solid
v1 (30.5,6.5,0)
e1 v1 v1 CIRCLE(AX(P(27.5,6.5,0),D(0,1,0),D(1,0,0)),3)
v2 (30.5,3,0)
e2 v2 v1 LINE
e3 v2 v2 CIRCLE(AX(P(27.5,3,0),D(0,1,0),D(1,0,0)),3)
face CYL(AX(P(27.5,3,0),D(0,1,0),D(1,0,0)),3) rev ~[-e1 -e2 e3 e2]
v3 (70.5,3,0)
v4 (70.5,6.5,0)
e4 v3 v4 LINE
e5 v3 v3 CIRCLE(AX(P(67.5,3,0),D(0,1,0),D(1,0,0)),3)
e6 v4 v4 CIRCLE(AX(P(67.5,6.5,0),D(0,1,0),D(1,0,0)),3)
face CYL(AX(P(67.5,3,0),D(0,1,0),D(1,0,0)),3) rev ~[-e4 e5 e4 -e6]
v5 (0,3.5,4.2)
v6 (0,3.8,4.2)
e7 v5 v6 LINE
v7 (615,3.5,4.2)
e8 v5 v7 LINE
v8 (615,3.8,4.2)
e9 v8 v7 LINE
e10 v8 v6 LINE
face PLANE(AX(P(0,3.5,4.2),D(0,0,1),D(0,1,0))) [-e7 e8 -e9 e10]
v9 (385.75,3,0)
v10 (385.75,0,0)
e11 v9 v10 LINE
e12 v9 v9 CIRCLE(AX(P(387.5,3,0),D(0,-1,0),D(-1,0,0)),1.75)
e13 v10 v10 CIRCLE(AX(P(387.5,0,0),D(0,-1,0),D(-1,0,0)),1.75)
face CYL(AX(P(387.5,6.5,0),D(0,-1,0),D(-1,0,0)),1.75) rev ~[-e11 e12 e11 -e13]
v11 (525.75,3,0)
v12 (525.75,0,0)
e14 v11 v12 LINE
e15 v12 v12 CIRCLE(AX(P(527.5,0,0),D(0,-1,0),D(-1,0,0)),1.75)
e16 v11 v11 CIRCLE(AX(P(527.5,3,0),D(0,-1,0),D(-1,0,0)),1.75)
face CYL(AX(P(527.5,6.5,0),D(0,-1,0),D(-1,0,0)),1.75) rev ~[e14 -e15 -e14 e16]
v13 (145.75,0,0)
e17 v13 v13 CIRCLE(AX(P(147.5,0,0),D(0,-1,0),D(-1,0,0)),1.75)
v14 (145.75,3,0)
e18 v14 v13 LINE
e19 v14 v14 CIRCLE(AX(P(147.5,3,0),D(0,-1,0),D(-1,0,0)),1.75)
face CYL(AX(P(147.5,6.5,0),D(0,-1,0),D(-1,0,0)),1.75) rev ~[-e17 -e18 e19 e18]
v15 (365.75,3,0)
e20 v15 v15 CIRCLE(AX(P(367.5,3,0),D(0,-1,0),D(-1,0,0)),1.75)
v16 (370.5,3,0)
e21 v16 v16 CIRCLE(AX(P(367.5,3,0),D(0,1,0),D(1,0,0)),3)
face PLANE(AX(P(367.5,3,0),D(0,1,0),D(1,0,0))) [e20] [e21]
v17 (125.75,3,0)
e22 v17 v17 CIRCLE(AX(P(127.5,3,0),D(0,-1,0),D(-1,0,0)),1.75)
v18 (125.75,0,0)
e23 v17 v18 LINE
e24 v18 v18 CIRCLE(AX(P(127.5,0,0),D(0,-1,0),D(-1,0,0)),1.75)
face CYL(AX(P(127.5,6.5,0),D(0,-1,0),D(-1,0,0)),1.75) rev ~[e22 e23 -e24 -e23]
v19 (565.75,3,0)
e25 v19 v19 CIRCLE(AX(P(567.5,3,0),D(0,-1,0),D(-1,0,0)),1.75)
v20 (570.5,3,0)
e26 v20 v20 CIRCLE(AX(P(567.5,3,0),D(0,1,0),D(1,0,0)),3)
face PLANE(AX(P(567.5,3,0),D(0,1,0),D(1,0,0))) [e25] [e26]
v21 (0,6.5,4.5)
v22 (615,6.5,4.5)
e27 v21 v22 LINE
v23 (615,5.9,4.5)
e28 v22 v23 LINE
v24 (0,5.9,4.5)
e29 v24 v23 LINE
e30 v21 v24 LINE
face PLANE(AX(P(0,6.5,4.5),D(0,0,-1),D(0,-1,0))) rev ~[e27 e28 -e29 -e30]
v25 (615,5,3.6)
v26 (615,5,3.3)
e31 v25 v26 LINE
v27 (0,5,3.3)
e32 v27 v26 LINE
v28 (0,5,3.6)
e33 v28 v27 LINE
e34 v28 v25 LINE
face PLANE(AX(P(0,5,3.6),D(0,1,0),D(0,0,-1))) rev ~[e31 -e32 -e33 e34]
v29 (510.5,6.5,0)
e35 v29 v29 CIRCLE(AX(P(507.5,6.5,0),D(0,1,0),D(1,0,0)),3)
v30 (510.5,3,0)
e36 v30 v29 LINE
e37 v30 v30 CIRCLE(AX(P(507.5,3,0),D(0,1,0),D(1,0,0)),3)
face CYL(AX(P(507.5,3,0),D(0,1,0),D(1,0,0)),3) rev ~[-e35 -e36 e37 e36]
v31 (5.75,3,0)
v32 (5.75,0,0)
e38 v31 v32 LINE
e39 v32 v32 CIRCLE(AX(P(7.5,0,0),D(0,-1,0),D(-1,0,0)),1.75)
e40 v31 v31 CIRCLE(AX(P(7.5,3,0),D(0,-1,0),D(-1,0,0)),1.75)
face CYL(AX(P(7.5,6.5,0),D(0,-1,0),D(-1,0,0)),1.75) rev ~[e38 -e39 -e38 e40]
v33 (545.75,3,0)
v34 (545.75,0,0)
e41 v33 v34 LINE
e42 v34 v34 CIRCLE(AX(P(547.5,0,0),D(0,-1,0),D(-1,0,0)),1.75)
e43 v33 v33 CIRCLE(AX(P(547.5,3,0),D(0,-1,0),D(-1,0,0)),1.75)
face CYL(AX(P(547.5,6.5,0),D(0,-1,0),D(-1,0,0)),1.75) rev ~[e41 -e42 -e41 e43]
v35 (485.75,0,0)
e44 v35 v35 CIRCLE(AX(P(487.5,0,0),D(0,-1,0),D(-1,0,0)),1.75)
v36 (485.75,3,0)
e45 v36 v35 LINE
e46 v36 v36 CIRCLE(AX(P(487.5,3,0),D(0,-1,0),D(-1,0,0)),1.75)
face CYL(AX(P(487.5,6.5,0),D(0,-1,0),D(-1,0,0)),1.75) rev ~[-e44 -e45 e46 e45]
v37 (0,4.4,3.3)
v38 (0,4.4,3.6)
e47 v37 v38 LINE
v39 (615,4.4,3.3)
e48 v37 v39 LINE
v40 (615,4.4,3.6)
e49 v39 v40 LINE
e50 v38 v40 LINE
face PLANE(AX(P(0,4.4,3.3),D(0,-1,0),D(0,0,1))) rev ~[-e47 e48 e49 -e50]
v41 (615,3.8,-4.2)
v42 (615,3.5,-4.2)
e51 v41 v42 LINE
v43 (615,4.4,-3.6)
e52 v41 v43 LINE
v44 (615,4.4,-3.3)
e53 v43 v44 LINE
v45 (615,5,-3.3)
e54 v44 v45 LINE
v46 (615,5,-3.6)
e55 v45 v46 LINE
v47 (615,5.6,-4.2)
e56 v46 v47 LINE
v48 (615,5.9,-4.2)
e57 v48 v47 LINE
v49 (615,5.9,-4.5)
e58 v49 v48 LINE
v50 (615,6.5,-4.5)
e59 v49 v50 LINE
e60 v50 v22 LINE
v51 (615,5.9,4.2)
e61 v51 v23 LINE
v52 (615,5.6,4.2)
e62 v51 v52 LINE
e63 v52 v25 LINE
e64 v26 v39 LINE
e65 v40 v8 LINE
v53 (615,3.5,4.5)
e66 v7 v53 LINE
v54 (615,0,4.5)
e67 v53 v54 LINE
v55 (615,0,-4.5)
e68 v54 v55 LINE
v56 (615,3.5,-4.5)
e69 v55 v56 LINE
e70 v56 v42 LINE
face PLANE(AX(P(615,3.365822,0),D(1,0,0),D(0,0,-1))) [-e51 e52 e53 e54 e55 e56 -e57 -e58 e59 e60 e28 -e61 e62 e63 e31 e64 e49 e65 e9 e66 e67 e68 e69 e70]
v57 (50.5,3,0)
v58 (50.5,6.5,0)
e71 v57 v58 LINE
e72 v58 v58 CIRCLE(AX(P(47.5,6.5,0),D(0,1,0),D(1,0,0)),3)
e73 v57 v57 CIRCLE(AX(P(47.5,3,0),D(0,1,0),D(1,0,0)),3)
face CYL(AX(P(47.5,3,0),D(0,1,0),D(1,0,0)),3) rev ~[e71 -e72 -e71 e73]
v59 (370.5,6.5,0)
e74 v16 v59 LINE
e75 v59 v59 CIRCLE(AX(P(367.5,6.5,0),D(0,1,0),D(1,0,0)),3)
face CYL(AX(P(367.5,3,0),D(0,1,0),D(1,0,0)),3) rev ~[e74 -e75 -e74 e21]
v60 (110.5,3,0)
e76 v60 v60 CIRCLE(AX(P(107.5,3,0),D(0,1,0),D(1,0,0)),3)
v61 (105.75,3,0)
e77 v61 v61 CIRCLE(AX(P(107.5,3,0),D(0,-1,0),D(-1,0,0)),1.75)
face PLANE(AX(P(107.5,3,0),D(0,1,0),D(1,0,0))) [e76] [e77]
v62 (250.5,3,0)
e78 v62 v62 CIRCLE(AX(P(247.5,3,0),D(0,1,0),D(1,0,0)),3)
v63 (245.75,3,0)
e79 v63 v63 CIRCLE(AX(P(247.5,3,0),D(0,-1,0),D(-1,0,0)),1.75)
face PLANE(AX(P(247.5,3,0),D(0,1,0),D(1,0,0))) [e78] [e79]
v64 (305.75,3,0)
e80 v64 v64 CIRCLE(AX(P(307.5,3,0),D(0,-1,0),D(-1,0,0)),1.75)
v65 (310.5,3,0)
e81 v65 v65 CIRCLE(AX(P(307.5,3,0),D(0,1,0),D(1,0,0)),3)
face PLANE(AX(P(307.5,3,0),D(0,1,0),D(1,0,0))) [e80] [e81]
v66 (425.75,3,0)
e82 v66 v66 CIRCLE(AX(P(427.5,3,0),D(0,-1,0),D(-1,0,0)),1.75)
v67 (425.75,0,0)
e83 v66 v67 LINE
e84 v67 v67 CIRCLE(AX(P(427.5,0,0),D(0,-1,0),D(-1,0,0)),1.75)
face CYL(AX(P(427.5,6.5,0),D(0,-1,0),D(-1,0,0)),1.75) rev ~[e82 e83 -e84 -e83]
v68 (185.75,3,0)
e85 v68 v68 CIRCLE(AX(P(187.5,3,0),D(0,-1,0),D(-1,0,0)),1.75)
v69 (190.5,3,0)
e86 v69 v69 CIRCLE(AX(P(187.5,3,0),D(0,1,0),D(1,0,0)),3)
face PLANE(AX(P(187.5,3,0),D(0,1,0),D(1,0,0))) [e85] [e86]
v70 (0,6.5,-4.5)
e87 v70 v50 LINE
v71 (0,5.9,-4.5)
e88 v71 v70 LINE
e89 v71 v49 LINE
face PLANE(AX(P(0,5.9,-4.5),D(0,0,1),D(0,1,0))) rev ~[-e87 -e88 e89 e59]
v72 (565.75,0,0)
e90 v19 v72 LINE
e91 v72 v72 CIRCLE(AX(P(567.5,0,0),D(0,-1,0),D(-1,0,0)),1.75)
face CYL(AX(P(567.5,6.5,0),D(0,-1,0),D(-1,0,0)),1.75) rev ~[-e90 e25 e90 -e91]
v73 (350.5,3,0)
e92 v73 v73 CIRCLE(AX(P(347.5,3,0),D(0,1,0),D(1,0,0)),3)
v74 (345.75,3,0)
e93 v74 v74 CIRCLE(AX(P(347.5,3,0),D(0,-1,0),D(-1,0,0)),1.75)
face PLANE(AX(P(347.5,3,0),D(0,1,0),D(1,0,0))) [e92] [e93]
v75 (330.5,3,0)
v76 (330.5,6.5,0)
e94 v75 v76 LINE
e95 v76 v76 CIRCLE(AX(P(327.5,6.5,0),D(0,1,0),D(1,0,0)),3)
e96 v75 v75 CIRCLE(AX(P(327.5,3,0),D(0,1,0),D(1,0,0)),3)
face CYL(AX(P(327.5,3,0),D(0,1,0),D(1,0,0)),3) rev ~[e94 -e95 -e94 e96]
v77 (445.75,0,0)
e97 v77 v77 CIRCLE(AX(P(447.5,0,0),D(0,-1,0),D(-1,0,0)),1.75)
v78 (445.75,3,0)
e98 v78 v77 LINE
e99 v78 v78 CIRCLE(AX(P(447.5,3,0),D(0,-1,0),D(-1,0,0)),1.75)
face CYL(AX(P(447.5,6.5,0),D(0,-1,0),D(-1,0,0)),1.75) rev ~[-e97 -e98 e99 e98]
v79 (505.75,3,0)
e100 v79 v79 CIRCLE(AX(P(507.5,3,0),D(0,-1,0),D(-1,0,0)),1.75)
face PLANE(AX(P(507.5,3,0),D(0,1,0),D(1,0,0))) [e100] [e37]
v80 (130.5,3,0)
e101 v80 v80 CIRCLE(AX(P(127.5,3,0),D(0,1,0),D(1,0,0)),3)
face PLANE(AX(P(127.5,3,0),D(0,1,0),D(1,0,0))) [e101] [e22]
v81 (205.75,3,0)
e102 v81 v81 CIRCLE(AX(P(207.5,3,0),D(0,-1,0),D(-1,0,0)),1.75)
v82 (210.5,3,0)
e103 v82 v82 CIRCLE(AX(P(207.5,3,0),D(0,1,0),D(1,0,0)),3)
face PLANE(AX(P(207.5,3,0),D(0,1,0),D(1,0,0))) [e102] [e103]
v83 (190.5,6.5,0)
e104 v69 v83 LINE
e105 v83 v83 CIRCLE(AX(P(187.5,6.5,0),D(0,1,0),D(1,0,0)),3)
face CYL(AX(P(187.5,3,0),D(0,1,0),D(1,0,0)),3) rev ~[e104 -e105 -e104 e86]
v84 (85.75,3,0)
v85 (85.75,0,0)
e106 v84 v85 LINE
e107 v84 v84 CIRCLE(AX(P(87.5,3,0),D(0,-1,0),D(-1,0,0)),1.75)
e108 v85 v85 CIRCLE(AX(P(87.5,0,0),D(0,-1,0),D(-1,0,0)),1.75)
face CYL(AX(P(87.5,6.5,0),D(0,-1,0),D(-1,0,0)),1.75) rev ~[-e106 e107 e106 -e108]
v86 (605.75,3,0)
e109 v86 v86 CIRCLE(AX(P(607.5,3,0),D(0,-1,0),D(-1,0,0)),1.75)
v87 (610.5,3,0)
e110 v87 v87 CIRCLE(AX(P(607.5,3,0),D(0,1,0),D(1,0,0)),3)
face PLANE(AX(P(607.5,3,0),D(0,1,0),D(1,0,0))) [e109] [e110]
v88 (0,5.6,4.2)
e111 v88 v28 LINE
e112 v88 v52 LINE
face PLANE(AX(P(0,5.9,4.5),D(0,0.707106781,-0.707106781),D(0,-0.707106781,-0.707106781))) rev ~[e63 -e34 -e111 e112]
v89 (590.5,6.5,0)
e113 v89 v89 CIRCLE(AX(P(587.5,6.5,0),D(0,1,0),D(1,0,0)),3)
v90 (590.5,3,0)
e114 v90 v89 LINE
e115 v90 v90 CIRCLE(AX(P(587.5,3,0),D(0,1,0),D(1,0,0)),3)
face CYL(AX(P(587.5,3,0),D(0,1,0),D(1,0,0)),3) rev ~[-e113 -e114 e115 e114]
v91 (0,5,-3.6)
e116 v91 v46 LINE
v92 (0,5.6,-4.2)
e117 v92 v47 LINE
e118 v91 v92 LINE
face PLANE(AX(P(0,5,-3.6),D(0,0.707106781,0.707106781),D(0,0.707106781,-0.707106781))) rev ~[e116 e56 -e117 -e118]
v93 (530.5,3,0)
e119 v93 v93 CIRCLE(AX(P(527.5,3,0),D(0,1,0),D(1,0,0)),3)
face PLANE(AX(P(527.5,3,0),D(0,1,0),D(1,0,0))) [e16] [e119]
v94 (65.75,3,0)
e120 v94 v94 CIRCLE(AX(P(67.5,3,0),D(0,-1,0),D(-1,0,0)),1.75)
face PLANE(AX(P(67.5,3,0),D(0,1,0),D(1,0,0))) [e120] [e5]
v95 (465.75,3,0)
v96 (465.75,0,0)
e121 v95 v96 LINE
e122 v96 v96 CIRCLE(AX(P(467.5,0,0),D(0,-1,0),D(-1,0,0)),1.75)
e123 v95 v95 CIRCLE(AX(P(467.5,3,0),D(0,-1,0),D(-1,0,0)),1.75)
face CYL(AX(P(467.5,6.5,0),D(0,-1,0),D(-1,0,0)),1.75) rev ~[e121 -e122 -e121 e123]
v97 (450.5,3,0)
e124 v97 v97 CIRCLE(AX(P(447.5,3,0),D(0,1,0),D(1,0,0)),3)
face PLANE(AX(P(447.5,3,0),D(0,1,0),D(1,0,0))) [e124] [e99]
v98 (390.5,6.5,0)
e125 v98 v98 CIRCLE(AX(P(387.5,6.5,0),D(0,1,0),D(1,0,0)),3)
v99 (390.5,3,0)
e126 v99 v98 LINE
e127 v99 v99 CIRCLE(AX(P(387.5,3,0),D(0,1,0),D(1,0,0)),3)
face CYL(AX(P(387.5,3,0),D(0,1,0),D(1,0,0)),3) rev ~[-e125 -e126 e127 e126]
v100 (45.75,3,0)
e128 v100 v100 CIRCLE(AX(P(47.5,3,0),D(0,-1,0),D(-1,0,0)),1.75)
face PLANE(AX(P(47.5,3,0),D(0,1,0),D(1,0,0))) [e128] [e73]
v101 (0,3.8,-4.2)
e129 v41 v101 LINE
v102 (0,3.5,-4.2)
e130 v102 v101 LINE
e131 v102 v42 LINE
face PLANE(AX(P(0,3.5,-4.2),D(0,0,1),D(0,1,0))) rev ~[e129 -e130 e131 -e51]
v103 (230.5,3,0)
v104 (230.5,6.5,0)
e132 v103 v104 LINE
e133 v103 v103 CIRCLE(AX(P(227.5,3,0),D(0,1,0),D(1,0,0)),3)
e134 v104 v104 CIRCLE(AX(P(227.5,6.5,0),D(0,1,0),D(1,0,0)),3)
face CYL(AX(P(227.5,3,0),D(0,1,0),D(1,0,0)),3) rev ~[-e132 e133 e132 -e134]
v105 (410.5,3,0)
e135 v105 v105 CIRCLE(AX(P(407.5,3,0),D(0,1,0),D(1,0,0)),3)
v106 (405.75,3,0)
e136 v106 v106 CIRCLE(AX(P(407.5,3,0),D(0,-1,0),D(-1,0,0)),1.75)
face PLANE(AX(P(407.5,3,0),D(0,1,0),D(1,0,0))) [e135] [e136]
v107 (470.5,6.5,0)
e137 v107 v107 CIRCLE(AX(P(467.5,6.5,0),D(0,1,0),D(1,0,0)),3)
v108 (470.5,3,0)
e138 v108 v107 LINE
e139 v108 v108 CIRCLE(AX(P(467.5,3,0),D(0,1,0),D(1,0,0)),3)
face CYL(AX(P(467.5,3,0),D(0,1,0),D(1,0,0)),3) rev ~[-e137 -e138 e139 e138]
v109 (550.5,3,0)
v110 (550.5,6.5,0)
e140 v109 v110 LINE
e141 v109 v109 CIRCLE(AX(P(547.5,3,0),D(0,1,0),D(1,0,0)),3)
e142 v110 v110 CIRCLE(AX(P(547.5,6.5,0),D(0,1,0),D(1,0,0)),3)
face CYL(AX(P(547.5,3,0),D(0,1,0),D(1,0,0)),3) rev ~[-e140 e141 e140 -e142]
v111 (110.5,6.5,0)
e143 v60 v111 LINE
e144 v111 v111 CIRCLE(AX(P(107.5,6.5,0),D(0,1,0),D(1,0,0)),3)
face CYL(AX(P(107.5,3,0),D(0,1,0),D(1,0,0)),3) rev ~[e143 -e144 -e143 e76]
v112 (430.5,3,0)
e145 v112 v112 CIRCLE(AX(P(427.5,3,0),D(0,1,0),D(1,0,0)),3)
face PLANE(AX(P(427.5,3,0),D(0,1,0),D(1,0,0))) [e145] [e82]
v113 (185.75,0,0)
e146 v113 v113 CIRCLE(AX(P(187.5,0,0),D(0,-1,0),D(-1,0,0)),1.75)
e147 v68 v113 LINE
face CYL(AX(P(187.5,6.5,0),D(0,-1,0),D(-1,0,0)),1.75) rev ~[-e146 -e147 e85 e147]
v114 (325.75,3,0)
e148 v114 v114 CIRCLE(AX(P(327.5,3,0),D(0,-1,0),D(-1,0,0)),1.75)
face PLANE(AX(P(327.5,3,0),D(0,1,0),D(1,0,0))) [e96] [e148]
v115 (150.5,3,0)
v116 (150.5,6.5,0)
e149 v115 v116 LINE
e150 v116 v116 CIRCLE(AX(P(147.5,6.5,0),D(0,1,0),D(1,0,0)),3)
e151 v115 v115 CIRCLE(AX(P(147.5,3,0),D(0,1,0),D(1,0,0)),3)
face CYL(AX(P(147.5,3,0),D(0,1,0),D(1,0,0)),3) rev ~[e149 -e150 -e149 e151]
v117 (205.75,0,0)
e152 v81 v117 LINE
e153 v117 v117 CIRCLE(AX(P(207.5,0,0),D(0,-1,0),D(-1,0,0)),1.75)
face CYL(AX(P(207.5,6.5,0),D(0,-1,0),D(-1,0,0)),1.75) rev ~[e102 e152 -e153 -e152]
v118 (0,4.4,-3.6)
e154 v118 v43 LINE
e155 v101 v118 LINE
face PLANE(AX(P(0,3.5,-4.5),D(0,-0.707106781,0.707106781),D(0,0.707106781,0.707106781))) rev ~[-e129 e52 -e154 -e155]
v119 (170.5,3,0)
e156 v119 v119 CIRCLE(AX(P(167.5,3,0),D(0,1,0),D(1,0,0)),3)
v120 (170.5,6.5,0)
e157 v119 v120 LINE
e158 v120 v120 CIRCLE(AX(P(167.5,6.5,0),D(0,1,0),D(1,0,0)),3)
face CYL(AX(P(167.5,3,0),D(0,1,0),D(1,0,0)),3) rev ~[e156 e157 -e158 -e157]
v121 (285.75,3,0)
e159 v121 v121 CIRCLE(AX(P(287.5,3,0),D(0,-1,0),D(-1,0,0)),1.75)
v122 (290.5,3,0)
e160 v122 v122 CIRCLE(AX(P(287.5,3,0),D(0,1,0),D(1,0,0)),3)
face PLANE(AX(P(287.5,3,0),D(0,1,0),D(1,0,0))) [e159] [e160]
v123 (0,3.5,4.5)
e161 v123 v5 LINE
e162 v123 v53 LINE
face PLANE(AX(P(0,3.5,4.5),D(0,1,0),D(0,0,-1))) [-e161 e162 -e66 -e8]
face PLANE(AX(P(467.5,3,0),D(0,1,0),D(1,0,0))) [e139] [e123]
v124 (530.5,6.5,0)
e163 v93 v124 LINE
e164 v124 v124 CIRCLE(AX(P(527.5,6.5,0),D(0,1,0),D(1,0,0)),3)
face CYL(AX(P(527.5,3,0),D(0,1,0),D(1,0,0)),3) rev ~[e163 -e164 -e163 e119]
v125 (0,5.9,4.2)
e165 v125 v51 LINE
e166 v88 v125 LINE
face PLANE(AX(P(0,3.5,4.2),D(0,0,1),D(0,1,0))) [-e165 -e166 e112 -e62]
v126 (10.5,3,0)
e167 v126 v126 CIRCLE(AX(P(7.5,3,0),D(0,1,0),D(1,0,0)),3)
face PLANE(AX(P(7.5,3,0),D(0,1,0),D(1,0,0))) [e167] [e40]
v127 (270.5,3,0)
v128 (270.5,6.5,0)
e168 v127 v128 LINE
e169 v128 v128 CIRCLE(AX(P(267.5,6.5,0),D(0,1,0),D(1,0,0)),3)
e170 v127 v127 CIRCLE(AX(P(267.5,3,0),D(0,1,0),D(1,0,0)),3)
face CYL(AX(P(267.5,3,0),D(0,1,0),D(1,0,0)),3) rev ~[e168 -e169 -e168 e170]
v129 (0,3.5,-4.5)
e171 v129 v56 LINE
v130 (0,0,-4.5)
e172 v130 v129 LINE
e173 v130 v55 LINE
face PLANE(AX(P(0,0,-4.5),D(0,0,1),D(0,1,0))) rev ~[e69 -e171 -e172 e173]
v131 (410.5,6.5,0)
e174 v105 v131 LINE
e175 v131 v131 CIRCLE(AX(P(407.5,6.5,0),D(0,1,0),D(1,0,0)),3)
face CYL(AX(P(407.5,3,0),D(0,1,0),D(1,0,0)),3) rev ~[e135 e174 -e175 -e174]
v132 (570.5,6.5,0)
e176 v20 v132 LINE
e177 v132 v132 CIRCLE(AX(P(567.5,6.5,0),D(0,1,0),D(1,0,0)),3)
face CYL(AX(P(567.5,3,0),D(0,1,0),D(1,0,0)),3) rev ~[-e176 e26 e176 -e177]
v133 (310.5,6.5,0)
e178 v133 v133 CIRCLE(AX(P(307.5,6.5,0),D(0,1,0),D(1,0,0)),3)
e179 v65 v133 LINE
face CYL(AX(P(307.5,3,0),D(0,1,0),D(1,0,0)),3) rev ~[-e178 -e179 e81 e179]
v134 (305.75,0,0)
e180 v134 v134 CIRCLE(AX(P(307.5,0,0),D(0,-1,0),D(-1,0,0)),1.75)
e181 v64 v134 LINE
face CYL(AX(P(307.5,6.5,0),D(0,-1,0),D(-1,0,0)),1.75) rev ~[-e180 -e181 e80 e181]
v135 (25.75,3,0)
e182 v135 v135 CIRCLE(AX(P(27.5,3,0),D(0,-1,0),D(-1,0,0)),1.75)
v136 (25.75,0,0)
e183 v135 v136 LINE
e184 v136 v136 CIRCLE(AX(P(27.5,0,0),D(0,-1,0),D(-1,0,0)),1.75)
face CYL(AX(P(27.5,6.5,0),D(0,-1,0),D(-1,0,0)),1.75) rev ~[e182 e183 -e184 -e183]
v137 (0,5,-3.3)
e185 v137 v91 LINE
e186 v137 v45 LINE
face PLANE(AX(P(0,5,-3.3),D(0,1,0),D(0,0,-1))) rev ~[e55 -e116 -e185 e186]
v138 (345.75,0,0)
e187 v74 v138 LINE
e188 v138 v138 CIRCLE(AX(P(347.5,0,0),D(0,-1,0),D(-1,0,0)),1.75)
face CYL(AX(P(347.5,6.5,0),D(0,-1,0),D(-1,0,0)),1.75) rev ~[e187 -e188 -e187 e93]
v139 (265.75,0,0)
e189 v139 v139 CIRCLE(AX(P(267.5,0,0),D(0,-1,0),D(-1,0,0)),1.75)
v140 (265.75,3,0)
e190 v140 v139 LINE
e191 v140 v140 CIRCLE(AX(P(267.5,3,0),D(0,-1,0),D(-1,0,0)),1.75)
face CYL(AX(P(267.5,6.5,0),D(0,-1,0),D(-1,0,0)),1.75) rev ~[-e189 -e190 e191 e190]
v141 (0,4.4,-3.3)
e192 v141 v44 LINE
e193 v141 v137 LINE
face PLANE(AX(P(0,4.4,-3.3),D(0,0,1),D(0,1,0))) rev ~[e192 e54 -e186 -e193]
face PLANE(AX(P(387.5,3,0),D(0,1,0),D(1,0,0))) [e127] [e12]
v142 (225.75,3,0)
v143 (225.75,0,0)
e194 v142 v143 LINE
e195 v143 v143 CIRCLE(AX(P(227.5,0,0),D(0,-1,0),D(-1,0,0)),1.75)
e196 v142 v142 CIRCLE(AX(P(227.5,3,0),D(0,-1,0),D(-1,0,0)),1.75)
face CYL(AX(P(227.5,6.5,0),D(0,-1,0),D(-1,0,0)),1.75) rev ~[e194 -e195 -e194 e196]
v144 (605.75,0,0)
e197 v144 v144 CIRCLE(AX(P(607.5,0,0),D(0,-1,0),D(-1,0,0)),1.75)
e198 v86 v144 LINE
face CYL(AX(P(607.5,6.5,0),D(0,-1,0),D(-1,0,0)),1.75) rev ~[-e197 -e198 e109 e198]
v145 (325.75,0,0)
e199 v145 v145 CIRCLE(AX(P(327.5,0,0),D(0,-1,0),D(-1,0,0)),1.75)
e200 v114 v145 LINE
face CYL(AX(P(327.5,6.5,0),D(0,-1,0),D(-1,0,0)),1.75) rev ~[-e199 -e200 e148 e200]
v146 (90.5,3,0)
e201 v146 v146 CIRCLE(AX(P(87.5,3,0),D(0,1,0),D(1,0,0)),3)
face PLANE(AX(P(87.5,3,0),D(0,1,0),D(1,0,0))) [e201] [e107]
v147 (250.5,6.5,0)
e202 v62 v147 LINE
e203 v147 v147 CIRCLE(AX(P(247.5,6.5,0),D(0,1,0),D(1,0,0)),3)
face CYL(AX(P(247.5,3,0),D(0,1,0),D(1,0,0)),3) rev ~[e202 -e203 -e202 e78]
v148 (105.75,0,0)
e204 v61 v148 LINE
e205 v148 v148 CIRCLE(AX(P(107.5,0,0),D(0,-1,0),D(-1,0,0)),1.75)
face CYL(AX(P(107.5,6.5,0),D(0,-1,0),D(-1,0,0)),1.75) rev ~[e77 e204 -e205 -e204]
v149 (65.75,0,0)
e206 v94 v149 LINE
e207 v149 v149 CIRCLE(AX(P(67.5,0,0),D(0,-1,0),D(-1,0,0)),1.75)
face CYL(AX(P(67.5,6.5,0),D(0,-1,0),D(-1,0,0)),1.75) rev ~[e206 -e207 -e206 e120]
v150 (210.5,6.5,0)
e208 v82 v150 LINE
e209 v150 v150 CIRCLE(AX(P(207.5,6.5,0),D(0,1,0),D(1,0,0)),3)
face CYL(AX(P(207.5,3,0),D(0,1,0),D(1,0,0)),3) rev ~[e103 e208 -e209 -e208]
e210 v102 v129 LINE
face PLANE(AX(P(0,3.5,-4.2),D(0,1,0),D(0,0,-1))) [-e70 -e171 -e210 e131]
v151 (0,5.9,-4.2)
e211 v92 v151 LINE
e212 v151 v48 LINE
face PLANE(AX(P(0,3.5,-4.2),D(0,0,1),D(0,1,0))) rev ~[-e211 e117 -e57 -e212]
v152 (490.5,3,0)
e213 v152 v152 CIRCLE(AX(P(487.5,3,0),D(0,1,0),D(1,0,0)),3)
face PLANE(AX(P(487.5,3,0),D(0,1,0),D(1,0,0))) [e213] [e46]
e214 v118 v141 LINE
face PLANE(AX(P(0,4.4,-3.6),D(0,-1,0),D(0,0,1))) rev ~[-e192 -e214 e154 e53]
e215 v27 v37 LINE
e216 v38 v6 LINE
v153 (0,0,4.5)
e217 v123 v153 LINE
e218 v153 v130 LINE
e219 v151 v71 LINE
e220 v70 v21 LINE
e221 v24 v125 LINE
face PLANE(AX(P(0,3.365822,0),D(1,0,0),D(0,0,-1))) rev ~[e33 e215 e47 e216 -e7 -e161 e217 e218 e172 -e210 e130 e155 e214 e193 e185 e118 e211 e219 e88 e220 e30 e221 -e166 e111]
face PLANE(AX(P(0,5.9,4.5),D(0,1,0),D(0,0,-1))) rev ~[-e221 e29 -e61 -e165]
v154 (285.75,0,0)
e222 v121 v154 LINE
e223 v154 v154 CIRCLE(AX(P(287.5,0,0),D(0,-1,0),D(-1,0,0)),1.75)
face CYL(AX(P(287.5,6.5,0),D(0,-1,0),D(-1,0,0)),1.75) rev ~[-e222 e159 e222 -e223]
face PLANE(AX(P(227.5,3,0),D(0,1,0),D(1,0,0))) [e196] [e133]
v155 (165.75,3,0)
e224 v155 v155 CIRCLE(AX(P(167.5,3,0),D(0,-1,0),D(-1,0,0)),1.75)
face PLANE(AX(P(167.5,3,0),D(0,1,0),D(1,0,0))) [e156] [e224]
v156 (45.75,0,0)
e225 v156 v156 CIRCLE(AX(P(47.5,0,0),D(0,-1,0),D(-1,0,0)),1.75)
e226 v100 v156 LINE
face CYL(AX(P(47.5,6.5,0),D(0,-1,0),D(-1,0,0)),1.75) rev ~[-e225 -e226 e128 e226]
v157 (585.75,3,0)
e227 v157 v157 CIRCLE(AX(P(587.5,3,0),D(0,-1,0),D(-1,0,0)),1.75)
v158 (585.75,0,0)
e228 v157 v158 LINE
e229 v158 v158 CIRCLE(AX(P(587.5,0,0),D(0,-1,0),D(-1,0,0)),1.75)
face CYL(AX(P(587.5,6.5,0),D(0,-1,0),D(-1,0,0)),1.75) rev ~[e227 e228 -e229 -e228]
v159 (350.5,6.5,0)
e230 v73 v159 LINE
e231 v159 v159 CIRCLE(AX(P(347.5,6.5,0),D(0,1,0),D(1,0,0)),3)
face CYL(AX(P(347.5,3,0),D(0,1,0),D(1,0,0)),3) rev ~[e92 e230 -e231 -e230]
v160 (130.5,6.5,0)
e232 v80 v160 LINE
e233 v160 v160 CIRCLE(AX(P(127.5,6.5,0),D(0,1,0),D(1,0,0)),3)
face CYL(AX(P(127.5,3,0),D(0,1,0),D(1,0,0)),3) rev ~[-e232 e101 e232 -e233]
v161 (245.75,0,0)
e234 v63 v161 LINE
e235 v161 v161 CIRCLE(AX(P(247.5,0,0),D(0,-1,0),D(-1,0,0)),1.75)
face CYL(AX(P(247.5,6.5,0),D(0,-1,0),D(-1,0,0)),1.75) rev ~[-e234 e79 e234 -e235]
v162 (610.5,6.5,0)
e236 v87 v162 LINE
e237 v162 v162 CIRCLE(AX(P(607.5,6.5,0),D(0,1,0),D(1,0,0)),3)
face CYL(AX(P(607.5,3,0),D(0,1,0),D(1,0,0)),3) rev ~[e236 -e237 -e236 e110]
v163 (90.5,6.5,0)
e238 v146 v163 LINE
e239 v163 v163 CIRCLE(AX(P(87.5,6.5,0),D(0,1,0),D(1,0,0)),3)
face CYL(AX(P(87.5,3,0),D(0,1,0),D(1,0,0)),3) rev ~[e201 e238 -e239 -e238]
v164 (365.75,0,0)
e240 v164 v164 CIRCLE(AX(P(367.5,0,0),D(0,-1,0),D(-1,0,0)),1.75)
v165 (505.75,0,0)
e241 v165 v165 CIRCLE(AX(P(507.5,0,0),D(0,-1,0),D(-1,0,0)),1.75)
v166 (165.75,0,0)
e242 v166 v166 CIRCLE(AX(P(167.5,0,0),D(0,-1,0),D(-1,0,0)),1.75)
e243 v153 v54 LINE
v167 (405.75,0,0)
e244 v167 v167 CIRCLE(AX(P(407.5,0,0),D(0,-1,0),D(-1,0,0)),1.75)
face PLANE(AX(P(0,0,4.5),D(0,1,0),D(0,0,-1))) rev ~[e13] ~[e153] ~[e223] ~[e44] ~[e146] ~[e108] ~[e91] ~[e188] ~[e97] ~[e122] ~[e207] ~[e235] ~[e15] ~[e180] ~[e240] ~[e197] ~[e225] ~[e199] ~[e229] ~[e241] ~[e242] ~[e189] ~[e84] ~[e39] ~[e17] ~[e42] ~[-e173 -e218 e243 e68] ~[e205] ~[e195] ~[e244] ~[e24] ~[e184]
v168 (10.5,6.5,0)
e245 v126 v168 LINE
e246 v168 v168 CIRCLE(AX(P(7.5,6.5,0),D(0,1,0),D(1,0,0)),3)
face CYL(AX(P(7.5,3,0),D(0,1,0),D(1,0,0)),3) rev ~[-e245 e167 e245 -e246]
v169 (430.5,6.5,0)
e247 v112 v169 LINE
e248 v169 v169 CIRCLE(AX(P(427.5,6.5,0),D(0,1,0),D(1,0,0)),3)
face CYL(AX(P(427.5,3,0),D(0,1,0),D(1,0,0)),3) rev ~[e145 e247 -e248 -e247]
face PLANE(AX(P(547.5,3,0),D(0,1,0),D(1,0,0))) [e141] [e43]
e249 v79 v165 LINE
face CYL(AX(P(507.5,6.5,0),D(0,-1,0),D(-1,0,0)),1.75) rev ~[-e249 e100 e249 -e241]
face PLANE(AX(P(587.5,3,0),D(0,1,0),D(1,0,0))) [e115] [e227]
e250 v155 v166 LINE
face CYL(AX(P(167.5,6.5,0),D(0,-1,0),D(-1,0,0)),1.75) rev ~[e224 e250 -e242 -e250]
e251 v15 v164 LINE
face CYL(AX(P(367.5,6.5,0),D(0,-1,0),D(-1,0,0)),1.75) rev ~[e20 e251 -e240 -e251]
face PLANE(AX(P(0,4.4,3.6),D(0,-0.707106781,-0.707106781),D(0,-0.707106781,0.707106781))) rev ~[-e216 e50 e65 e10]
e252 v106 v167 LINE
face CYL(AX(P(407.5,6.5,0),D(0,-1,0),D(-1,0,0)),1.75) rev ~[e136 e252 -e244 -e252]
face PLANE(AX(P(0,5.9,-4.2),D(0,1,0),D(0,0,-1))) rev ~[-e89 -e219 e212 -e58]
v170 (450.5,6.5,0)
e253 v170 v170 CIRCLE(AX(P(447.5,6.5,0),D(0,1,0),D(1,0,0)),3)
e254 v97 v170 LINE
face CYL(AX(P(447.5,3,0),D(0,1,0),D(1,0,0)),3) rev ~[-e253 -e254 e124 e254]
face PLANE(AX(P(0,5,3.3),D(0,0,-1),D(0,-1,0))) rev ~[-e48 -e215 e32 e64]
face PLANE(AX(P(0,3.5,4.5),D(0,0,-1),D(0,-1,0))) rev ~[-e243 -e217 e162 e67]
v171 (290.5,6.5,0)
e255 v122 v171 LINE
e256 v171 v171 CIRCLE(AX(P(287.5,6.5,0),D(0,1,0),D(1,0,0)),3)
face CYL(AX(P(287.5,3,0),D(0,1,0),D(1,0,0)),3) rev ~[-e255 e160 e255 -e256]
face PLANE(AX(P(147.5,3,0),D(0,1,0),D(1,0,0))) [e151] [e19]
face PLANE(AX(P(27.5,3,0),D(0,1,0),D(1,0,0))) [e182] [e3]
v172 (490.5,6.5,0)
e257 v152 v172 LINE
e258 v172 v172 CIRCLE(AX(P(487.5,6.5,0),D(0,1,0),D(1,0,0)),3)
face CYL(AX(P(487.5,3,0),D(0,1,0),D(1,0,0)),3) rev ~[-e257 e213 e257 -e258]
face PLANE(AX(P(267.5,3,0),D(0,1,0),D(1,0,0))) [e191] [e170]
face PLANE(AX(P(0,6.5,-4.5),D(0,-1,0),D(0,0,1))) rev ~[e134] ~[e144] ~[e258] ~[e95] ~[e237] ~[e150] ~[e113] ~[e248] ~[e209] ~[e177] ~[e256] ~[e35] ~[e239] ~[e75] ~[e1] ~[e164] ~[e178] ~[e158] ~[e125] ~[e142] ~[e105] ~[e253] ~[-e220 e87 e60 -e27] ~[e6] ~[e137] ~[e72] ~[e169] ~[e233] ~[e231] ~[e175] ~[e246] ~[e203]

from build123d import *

# Parameters (mm, degrees)
BOSS_EXTRU_1_DEPTH                                 = 615
ESQUISSE2_W                                        = 0.3
ESQUISSE2_H                                        = 2.4
ENL_V_MAT_EXTRU_1_DEPTH                            = 616.050810909
CHAMBRAGE_POUR_VIS_T_TE_HEXAGONALE_M31_D           = 3.5
CHAMBRAGE_POUR_VIS_T_TE_HEXAGONALE_M31_CBORE_D     = 6
CHAMBRAGE_POUR_VIS_T_TE_HEXAGONALE_M31_CBORE_DEPTH = 3.5
R_P_TITION_LIN_AIRE1_COUNT                         = 31
R_P_TITION_LIN_AIRE1_PITCH                         = 20


with BuildPart() as part:
    # Esquisse1 → Boss.-Extru.1 (new body)
    with BuildSketch(Plane(origin=(0, 0, 0), x_dir=(0, 0, -1), z_dir=(1, 0, 0))):
        Polygon((-4.5, 0), (4.5, 0), (4.5, 3.5), (3.6, 4.4), (3.3, 4.4), (3.3, 5), (3.6, 5), (4.5, 5.9), (4.5, 6.5), (-4.5, 6.5), (-4.5, 5.9), (-3.6, 5), (-3.3, 5), (-3.3, 4.4), (-3.6, 4.4), (-4.5, 3.5), align=None)
    extrude(amount=BOSS_EXTRU_1_DEPTH)

    # Esquisse2 → Enlèv. mat.-Extru.1 (cut, through all)
    with BuildSketch(Plane(origin=(0, 0, 0), x_dir=(0, 0, -1), z_dir=(1, 0, 0))):
        with Locations((4.35, 4.7)):
            Rectangle(ESQUISSE2_W, ESQUISSE2_H)
        with Locations((-4.35, 4.7)):
            Rectangle(ESQUISSE2_W, ESQUISSE2_H)
    extrude(amount=ENL_V_MAT_EXTRU_1_DEPTH, mode=Mode.SUBTRACT)

    # Chambrage pour vis à tête hexagonale M31 (through all)
    with Locations(Plane(origin=(0, 6.5, 0), x_dir=(1, 0, 0), z_dir=(0, 1, 0))):
        with Locations((7.5, 0)):
            chambrage_pour_vis_t_te_hexagonale_m31 = CounterBoreHole(CHAMBRAGE_POUR_VIS_T_TE_HEXAGONALE_M31_D / 2, CHAMBRAGE_POUR_VIS_T_TE_HEXAGONALE_M31_CBORE_D / 2, CHAMBRAGE_POUR_VIS_T_TE_HEXAGONALE_M31_CBORE_DEPTH)

    # Répétition linéaire1: Chambrage pour vis à tête hexagonale M31 ×31
    with Locations(*[(i * R_P_TITION_LIN_AIRE1_PITCH, 0, 0) for i in range(1, R_P_TITION_LIN_AIRE1_COUNT)]):
        add(chambrage_pour_vis_t_te_hexagonale_m31, mode=Mode.SUBTRACT)


solid = part.part
